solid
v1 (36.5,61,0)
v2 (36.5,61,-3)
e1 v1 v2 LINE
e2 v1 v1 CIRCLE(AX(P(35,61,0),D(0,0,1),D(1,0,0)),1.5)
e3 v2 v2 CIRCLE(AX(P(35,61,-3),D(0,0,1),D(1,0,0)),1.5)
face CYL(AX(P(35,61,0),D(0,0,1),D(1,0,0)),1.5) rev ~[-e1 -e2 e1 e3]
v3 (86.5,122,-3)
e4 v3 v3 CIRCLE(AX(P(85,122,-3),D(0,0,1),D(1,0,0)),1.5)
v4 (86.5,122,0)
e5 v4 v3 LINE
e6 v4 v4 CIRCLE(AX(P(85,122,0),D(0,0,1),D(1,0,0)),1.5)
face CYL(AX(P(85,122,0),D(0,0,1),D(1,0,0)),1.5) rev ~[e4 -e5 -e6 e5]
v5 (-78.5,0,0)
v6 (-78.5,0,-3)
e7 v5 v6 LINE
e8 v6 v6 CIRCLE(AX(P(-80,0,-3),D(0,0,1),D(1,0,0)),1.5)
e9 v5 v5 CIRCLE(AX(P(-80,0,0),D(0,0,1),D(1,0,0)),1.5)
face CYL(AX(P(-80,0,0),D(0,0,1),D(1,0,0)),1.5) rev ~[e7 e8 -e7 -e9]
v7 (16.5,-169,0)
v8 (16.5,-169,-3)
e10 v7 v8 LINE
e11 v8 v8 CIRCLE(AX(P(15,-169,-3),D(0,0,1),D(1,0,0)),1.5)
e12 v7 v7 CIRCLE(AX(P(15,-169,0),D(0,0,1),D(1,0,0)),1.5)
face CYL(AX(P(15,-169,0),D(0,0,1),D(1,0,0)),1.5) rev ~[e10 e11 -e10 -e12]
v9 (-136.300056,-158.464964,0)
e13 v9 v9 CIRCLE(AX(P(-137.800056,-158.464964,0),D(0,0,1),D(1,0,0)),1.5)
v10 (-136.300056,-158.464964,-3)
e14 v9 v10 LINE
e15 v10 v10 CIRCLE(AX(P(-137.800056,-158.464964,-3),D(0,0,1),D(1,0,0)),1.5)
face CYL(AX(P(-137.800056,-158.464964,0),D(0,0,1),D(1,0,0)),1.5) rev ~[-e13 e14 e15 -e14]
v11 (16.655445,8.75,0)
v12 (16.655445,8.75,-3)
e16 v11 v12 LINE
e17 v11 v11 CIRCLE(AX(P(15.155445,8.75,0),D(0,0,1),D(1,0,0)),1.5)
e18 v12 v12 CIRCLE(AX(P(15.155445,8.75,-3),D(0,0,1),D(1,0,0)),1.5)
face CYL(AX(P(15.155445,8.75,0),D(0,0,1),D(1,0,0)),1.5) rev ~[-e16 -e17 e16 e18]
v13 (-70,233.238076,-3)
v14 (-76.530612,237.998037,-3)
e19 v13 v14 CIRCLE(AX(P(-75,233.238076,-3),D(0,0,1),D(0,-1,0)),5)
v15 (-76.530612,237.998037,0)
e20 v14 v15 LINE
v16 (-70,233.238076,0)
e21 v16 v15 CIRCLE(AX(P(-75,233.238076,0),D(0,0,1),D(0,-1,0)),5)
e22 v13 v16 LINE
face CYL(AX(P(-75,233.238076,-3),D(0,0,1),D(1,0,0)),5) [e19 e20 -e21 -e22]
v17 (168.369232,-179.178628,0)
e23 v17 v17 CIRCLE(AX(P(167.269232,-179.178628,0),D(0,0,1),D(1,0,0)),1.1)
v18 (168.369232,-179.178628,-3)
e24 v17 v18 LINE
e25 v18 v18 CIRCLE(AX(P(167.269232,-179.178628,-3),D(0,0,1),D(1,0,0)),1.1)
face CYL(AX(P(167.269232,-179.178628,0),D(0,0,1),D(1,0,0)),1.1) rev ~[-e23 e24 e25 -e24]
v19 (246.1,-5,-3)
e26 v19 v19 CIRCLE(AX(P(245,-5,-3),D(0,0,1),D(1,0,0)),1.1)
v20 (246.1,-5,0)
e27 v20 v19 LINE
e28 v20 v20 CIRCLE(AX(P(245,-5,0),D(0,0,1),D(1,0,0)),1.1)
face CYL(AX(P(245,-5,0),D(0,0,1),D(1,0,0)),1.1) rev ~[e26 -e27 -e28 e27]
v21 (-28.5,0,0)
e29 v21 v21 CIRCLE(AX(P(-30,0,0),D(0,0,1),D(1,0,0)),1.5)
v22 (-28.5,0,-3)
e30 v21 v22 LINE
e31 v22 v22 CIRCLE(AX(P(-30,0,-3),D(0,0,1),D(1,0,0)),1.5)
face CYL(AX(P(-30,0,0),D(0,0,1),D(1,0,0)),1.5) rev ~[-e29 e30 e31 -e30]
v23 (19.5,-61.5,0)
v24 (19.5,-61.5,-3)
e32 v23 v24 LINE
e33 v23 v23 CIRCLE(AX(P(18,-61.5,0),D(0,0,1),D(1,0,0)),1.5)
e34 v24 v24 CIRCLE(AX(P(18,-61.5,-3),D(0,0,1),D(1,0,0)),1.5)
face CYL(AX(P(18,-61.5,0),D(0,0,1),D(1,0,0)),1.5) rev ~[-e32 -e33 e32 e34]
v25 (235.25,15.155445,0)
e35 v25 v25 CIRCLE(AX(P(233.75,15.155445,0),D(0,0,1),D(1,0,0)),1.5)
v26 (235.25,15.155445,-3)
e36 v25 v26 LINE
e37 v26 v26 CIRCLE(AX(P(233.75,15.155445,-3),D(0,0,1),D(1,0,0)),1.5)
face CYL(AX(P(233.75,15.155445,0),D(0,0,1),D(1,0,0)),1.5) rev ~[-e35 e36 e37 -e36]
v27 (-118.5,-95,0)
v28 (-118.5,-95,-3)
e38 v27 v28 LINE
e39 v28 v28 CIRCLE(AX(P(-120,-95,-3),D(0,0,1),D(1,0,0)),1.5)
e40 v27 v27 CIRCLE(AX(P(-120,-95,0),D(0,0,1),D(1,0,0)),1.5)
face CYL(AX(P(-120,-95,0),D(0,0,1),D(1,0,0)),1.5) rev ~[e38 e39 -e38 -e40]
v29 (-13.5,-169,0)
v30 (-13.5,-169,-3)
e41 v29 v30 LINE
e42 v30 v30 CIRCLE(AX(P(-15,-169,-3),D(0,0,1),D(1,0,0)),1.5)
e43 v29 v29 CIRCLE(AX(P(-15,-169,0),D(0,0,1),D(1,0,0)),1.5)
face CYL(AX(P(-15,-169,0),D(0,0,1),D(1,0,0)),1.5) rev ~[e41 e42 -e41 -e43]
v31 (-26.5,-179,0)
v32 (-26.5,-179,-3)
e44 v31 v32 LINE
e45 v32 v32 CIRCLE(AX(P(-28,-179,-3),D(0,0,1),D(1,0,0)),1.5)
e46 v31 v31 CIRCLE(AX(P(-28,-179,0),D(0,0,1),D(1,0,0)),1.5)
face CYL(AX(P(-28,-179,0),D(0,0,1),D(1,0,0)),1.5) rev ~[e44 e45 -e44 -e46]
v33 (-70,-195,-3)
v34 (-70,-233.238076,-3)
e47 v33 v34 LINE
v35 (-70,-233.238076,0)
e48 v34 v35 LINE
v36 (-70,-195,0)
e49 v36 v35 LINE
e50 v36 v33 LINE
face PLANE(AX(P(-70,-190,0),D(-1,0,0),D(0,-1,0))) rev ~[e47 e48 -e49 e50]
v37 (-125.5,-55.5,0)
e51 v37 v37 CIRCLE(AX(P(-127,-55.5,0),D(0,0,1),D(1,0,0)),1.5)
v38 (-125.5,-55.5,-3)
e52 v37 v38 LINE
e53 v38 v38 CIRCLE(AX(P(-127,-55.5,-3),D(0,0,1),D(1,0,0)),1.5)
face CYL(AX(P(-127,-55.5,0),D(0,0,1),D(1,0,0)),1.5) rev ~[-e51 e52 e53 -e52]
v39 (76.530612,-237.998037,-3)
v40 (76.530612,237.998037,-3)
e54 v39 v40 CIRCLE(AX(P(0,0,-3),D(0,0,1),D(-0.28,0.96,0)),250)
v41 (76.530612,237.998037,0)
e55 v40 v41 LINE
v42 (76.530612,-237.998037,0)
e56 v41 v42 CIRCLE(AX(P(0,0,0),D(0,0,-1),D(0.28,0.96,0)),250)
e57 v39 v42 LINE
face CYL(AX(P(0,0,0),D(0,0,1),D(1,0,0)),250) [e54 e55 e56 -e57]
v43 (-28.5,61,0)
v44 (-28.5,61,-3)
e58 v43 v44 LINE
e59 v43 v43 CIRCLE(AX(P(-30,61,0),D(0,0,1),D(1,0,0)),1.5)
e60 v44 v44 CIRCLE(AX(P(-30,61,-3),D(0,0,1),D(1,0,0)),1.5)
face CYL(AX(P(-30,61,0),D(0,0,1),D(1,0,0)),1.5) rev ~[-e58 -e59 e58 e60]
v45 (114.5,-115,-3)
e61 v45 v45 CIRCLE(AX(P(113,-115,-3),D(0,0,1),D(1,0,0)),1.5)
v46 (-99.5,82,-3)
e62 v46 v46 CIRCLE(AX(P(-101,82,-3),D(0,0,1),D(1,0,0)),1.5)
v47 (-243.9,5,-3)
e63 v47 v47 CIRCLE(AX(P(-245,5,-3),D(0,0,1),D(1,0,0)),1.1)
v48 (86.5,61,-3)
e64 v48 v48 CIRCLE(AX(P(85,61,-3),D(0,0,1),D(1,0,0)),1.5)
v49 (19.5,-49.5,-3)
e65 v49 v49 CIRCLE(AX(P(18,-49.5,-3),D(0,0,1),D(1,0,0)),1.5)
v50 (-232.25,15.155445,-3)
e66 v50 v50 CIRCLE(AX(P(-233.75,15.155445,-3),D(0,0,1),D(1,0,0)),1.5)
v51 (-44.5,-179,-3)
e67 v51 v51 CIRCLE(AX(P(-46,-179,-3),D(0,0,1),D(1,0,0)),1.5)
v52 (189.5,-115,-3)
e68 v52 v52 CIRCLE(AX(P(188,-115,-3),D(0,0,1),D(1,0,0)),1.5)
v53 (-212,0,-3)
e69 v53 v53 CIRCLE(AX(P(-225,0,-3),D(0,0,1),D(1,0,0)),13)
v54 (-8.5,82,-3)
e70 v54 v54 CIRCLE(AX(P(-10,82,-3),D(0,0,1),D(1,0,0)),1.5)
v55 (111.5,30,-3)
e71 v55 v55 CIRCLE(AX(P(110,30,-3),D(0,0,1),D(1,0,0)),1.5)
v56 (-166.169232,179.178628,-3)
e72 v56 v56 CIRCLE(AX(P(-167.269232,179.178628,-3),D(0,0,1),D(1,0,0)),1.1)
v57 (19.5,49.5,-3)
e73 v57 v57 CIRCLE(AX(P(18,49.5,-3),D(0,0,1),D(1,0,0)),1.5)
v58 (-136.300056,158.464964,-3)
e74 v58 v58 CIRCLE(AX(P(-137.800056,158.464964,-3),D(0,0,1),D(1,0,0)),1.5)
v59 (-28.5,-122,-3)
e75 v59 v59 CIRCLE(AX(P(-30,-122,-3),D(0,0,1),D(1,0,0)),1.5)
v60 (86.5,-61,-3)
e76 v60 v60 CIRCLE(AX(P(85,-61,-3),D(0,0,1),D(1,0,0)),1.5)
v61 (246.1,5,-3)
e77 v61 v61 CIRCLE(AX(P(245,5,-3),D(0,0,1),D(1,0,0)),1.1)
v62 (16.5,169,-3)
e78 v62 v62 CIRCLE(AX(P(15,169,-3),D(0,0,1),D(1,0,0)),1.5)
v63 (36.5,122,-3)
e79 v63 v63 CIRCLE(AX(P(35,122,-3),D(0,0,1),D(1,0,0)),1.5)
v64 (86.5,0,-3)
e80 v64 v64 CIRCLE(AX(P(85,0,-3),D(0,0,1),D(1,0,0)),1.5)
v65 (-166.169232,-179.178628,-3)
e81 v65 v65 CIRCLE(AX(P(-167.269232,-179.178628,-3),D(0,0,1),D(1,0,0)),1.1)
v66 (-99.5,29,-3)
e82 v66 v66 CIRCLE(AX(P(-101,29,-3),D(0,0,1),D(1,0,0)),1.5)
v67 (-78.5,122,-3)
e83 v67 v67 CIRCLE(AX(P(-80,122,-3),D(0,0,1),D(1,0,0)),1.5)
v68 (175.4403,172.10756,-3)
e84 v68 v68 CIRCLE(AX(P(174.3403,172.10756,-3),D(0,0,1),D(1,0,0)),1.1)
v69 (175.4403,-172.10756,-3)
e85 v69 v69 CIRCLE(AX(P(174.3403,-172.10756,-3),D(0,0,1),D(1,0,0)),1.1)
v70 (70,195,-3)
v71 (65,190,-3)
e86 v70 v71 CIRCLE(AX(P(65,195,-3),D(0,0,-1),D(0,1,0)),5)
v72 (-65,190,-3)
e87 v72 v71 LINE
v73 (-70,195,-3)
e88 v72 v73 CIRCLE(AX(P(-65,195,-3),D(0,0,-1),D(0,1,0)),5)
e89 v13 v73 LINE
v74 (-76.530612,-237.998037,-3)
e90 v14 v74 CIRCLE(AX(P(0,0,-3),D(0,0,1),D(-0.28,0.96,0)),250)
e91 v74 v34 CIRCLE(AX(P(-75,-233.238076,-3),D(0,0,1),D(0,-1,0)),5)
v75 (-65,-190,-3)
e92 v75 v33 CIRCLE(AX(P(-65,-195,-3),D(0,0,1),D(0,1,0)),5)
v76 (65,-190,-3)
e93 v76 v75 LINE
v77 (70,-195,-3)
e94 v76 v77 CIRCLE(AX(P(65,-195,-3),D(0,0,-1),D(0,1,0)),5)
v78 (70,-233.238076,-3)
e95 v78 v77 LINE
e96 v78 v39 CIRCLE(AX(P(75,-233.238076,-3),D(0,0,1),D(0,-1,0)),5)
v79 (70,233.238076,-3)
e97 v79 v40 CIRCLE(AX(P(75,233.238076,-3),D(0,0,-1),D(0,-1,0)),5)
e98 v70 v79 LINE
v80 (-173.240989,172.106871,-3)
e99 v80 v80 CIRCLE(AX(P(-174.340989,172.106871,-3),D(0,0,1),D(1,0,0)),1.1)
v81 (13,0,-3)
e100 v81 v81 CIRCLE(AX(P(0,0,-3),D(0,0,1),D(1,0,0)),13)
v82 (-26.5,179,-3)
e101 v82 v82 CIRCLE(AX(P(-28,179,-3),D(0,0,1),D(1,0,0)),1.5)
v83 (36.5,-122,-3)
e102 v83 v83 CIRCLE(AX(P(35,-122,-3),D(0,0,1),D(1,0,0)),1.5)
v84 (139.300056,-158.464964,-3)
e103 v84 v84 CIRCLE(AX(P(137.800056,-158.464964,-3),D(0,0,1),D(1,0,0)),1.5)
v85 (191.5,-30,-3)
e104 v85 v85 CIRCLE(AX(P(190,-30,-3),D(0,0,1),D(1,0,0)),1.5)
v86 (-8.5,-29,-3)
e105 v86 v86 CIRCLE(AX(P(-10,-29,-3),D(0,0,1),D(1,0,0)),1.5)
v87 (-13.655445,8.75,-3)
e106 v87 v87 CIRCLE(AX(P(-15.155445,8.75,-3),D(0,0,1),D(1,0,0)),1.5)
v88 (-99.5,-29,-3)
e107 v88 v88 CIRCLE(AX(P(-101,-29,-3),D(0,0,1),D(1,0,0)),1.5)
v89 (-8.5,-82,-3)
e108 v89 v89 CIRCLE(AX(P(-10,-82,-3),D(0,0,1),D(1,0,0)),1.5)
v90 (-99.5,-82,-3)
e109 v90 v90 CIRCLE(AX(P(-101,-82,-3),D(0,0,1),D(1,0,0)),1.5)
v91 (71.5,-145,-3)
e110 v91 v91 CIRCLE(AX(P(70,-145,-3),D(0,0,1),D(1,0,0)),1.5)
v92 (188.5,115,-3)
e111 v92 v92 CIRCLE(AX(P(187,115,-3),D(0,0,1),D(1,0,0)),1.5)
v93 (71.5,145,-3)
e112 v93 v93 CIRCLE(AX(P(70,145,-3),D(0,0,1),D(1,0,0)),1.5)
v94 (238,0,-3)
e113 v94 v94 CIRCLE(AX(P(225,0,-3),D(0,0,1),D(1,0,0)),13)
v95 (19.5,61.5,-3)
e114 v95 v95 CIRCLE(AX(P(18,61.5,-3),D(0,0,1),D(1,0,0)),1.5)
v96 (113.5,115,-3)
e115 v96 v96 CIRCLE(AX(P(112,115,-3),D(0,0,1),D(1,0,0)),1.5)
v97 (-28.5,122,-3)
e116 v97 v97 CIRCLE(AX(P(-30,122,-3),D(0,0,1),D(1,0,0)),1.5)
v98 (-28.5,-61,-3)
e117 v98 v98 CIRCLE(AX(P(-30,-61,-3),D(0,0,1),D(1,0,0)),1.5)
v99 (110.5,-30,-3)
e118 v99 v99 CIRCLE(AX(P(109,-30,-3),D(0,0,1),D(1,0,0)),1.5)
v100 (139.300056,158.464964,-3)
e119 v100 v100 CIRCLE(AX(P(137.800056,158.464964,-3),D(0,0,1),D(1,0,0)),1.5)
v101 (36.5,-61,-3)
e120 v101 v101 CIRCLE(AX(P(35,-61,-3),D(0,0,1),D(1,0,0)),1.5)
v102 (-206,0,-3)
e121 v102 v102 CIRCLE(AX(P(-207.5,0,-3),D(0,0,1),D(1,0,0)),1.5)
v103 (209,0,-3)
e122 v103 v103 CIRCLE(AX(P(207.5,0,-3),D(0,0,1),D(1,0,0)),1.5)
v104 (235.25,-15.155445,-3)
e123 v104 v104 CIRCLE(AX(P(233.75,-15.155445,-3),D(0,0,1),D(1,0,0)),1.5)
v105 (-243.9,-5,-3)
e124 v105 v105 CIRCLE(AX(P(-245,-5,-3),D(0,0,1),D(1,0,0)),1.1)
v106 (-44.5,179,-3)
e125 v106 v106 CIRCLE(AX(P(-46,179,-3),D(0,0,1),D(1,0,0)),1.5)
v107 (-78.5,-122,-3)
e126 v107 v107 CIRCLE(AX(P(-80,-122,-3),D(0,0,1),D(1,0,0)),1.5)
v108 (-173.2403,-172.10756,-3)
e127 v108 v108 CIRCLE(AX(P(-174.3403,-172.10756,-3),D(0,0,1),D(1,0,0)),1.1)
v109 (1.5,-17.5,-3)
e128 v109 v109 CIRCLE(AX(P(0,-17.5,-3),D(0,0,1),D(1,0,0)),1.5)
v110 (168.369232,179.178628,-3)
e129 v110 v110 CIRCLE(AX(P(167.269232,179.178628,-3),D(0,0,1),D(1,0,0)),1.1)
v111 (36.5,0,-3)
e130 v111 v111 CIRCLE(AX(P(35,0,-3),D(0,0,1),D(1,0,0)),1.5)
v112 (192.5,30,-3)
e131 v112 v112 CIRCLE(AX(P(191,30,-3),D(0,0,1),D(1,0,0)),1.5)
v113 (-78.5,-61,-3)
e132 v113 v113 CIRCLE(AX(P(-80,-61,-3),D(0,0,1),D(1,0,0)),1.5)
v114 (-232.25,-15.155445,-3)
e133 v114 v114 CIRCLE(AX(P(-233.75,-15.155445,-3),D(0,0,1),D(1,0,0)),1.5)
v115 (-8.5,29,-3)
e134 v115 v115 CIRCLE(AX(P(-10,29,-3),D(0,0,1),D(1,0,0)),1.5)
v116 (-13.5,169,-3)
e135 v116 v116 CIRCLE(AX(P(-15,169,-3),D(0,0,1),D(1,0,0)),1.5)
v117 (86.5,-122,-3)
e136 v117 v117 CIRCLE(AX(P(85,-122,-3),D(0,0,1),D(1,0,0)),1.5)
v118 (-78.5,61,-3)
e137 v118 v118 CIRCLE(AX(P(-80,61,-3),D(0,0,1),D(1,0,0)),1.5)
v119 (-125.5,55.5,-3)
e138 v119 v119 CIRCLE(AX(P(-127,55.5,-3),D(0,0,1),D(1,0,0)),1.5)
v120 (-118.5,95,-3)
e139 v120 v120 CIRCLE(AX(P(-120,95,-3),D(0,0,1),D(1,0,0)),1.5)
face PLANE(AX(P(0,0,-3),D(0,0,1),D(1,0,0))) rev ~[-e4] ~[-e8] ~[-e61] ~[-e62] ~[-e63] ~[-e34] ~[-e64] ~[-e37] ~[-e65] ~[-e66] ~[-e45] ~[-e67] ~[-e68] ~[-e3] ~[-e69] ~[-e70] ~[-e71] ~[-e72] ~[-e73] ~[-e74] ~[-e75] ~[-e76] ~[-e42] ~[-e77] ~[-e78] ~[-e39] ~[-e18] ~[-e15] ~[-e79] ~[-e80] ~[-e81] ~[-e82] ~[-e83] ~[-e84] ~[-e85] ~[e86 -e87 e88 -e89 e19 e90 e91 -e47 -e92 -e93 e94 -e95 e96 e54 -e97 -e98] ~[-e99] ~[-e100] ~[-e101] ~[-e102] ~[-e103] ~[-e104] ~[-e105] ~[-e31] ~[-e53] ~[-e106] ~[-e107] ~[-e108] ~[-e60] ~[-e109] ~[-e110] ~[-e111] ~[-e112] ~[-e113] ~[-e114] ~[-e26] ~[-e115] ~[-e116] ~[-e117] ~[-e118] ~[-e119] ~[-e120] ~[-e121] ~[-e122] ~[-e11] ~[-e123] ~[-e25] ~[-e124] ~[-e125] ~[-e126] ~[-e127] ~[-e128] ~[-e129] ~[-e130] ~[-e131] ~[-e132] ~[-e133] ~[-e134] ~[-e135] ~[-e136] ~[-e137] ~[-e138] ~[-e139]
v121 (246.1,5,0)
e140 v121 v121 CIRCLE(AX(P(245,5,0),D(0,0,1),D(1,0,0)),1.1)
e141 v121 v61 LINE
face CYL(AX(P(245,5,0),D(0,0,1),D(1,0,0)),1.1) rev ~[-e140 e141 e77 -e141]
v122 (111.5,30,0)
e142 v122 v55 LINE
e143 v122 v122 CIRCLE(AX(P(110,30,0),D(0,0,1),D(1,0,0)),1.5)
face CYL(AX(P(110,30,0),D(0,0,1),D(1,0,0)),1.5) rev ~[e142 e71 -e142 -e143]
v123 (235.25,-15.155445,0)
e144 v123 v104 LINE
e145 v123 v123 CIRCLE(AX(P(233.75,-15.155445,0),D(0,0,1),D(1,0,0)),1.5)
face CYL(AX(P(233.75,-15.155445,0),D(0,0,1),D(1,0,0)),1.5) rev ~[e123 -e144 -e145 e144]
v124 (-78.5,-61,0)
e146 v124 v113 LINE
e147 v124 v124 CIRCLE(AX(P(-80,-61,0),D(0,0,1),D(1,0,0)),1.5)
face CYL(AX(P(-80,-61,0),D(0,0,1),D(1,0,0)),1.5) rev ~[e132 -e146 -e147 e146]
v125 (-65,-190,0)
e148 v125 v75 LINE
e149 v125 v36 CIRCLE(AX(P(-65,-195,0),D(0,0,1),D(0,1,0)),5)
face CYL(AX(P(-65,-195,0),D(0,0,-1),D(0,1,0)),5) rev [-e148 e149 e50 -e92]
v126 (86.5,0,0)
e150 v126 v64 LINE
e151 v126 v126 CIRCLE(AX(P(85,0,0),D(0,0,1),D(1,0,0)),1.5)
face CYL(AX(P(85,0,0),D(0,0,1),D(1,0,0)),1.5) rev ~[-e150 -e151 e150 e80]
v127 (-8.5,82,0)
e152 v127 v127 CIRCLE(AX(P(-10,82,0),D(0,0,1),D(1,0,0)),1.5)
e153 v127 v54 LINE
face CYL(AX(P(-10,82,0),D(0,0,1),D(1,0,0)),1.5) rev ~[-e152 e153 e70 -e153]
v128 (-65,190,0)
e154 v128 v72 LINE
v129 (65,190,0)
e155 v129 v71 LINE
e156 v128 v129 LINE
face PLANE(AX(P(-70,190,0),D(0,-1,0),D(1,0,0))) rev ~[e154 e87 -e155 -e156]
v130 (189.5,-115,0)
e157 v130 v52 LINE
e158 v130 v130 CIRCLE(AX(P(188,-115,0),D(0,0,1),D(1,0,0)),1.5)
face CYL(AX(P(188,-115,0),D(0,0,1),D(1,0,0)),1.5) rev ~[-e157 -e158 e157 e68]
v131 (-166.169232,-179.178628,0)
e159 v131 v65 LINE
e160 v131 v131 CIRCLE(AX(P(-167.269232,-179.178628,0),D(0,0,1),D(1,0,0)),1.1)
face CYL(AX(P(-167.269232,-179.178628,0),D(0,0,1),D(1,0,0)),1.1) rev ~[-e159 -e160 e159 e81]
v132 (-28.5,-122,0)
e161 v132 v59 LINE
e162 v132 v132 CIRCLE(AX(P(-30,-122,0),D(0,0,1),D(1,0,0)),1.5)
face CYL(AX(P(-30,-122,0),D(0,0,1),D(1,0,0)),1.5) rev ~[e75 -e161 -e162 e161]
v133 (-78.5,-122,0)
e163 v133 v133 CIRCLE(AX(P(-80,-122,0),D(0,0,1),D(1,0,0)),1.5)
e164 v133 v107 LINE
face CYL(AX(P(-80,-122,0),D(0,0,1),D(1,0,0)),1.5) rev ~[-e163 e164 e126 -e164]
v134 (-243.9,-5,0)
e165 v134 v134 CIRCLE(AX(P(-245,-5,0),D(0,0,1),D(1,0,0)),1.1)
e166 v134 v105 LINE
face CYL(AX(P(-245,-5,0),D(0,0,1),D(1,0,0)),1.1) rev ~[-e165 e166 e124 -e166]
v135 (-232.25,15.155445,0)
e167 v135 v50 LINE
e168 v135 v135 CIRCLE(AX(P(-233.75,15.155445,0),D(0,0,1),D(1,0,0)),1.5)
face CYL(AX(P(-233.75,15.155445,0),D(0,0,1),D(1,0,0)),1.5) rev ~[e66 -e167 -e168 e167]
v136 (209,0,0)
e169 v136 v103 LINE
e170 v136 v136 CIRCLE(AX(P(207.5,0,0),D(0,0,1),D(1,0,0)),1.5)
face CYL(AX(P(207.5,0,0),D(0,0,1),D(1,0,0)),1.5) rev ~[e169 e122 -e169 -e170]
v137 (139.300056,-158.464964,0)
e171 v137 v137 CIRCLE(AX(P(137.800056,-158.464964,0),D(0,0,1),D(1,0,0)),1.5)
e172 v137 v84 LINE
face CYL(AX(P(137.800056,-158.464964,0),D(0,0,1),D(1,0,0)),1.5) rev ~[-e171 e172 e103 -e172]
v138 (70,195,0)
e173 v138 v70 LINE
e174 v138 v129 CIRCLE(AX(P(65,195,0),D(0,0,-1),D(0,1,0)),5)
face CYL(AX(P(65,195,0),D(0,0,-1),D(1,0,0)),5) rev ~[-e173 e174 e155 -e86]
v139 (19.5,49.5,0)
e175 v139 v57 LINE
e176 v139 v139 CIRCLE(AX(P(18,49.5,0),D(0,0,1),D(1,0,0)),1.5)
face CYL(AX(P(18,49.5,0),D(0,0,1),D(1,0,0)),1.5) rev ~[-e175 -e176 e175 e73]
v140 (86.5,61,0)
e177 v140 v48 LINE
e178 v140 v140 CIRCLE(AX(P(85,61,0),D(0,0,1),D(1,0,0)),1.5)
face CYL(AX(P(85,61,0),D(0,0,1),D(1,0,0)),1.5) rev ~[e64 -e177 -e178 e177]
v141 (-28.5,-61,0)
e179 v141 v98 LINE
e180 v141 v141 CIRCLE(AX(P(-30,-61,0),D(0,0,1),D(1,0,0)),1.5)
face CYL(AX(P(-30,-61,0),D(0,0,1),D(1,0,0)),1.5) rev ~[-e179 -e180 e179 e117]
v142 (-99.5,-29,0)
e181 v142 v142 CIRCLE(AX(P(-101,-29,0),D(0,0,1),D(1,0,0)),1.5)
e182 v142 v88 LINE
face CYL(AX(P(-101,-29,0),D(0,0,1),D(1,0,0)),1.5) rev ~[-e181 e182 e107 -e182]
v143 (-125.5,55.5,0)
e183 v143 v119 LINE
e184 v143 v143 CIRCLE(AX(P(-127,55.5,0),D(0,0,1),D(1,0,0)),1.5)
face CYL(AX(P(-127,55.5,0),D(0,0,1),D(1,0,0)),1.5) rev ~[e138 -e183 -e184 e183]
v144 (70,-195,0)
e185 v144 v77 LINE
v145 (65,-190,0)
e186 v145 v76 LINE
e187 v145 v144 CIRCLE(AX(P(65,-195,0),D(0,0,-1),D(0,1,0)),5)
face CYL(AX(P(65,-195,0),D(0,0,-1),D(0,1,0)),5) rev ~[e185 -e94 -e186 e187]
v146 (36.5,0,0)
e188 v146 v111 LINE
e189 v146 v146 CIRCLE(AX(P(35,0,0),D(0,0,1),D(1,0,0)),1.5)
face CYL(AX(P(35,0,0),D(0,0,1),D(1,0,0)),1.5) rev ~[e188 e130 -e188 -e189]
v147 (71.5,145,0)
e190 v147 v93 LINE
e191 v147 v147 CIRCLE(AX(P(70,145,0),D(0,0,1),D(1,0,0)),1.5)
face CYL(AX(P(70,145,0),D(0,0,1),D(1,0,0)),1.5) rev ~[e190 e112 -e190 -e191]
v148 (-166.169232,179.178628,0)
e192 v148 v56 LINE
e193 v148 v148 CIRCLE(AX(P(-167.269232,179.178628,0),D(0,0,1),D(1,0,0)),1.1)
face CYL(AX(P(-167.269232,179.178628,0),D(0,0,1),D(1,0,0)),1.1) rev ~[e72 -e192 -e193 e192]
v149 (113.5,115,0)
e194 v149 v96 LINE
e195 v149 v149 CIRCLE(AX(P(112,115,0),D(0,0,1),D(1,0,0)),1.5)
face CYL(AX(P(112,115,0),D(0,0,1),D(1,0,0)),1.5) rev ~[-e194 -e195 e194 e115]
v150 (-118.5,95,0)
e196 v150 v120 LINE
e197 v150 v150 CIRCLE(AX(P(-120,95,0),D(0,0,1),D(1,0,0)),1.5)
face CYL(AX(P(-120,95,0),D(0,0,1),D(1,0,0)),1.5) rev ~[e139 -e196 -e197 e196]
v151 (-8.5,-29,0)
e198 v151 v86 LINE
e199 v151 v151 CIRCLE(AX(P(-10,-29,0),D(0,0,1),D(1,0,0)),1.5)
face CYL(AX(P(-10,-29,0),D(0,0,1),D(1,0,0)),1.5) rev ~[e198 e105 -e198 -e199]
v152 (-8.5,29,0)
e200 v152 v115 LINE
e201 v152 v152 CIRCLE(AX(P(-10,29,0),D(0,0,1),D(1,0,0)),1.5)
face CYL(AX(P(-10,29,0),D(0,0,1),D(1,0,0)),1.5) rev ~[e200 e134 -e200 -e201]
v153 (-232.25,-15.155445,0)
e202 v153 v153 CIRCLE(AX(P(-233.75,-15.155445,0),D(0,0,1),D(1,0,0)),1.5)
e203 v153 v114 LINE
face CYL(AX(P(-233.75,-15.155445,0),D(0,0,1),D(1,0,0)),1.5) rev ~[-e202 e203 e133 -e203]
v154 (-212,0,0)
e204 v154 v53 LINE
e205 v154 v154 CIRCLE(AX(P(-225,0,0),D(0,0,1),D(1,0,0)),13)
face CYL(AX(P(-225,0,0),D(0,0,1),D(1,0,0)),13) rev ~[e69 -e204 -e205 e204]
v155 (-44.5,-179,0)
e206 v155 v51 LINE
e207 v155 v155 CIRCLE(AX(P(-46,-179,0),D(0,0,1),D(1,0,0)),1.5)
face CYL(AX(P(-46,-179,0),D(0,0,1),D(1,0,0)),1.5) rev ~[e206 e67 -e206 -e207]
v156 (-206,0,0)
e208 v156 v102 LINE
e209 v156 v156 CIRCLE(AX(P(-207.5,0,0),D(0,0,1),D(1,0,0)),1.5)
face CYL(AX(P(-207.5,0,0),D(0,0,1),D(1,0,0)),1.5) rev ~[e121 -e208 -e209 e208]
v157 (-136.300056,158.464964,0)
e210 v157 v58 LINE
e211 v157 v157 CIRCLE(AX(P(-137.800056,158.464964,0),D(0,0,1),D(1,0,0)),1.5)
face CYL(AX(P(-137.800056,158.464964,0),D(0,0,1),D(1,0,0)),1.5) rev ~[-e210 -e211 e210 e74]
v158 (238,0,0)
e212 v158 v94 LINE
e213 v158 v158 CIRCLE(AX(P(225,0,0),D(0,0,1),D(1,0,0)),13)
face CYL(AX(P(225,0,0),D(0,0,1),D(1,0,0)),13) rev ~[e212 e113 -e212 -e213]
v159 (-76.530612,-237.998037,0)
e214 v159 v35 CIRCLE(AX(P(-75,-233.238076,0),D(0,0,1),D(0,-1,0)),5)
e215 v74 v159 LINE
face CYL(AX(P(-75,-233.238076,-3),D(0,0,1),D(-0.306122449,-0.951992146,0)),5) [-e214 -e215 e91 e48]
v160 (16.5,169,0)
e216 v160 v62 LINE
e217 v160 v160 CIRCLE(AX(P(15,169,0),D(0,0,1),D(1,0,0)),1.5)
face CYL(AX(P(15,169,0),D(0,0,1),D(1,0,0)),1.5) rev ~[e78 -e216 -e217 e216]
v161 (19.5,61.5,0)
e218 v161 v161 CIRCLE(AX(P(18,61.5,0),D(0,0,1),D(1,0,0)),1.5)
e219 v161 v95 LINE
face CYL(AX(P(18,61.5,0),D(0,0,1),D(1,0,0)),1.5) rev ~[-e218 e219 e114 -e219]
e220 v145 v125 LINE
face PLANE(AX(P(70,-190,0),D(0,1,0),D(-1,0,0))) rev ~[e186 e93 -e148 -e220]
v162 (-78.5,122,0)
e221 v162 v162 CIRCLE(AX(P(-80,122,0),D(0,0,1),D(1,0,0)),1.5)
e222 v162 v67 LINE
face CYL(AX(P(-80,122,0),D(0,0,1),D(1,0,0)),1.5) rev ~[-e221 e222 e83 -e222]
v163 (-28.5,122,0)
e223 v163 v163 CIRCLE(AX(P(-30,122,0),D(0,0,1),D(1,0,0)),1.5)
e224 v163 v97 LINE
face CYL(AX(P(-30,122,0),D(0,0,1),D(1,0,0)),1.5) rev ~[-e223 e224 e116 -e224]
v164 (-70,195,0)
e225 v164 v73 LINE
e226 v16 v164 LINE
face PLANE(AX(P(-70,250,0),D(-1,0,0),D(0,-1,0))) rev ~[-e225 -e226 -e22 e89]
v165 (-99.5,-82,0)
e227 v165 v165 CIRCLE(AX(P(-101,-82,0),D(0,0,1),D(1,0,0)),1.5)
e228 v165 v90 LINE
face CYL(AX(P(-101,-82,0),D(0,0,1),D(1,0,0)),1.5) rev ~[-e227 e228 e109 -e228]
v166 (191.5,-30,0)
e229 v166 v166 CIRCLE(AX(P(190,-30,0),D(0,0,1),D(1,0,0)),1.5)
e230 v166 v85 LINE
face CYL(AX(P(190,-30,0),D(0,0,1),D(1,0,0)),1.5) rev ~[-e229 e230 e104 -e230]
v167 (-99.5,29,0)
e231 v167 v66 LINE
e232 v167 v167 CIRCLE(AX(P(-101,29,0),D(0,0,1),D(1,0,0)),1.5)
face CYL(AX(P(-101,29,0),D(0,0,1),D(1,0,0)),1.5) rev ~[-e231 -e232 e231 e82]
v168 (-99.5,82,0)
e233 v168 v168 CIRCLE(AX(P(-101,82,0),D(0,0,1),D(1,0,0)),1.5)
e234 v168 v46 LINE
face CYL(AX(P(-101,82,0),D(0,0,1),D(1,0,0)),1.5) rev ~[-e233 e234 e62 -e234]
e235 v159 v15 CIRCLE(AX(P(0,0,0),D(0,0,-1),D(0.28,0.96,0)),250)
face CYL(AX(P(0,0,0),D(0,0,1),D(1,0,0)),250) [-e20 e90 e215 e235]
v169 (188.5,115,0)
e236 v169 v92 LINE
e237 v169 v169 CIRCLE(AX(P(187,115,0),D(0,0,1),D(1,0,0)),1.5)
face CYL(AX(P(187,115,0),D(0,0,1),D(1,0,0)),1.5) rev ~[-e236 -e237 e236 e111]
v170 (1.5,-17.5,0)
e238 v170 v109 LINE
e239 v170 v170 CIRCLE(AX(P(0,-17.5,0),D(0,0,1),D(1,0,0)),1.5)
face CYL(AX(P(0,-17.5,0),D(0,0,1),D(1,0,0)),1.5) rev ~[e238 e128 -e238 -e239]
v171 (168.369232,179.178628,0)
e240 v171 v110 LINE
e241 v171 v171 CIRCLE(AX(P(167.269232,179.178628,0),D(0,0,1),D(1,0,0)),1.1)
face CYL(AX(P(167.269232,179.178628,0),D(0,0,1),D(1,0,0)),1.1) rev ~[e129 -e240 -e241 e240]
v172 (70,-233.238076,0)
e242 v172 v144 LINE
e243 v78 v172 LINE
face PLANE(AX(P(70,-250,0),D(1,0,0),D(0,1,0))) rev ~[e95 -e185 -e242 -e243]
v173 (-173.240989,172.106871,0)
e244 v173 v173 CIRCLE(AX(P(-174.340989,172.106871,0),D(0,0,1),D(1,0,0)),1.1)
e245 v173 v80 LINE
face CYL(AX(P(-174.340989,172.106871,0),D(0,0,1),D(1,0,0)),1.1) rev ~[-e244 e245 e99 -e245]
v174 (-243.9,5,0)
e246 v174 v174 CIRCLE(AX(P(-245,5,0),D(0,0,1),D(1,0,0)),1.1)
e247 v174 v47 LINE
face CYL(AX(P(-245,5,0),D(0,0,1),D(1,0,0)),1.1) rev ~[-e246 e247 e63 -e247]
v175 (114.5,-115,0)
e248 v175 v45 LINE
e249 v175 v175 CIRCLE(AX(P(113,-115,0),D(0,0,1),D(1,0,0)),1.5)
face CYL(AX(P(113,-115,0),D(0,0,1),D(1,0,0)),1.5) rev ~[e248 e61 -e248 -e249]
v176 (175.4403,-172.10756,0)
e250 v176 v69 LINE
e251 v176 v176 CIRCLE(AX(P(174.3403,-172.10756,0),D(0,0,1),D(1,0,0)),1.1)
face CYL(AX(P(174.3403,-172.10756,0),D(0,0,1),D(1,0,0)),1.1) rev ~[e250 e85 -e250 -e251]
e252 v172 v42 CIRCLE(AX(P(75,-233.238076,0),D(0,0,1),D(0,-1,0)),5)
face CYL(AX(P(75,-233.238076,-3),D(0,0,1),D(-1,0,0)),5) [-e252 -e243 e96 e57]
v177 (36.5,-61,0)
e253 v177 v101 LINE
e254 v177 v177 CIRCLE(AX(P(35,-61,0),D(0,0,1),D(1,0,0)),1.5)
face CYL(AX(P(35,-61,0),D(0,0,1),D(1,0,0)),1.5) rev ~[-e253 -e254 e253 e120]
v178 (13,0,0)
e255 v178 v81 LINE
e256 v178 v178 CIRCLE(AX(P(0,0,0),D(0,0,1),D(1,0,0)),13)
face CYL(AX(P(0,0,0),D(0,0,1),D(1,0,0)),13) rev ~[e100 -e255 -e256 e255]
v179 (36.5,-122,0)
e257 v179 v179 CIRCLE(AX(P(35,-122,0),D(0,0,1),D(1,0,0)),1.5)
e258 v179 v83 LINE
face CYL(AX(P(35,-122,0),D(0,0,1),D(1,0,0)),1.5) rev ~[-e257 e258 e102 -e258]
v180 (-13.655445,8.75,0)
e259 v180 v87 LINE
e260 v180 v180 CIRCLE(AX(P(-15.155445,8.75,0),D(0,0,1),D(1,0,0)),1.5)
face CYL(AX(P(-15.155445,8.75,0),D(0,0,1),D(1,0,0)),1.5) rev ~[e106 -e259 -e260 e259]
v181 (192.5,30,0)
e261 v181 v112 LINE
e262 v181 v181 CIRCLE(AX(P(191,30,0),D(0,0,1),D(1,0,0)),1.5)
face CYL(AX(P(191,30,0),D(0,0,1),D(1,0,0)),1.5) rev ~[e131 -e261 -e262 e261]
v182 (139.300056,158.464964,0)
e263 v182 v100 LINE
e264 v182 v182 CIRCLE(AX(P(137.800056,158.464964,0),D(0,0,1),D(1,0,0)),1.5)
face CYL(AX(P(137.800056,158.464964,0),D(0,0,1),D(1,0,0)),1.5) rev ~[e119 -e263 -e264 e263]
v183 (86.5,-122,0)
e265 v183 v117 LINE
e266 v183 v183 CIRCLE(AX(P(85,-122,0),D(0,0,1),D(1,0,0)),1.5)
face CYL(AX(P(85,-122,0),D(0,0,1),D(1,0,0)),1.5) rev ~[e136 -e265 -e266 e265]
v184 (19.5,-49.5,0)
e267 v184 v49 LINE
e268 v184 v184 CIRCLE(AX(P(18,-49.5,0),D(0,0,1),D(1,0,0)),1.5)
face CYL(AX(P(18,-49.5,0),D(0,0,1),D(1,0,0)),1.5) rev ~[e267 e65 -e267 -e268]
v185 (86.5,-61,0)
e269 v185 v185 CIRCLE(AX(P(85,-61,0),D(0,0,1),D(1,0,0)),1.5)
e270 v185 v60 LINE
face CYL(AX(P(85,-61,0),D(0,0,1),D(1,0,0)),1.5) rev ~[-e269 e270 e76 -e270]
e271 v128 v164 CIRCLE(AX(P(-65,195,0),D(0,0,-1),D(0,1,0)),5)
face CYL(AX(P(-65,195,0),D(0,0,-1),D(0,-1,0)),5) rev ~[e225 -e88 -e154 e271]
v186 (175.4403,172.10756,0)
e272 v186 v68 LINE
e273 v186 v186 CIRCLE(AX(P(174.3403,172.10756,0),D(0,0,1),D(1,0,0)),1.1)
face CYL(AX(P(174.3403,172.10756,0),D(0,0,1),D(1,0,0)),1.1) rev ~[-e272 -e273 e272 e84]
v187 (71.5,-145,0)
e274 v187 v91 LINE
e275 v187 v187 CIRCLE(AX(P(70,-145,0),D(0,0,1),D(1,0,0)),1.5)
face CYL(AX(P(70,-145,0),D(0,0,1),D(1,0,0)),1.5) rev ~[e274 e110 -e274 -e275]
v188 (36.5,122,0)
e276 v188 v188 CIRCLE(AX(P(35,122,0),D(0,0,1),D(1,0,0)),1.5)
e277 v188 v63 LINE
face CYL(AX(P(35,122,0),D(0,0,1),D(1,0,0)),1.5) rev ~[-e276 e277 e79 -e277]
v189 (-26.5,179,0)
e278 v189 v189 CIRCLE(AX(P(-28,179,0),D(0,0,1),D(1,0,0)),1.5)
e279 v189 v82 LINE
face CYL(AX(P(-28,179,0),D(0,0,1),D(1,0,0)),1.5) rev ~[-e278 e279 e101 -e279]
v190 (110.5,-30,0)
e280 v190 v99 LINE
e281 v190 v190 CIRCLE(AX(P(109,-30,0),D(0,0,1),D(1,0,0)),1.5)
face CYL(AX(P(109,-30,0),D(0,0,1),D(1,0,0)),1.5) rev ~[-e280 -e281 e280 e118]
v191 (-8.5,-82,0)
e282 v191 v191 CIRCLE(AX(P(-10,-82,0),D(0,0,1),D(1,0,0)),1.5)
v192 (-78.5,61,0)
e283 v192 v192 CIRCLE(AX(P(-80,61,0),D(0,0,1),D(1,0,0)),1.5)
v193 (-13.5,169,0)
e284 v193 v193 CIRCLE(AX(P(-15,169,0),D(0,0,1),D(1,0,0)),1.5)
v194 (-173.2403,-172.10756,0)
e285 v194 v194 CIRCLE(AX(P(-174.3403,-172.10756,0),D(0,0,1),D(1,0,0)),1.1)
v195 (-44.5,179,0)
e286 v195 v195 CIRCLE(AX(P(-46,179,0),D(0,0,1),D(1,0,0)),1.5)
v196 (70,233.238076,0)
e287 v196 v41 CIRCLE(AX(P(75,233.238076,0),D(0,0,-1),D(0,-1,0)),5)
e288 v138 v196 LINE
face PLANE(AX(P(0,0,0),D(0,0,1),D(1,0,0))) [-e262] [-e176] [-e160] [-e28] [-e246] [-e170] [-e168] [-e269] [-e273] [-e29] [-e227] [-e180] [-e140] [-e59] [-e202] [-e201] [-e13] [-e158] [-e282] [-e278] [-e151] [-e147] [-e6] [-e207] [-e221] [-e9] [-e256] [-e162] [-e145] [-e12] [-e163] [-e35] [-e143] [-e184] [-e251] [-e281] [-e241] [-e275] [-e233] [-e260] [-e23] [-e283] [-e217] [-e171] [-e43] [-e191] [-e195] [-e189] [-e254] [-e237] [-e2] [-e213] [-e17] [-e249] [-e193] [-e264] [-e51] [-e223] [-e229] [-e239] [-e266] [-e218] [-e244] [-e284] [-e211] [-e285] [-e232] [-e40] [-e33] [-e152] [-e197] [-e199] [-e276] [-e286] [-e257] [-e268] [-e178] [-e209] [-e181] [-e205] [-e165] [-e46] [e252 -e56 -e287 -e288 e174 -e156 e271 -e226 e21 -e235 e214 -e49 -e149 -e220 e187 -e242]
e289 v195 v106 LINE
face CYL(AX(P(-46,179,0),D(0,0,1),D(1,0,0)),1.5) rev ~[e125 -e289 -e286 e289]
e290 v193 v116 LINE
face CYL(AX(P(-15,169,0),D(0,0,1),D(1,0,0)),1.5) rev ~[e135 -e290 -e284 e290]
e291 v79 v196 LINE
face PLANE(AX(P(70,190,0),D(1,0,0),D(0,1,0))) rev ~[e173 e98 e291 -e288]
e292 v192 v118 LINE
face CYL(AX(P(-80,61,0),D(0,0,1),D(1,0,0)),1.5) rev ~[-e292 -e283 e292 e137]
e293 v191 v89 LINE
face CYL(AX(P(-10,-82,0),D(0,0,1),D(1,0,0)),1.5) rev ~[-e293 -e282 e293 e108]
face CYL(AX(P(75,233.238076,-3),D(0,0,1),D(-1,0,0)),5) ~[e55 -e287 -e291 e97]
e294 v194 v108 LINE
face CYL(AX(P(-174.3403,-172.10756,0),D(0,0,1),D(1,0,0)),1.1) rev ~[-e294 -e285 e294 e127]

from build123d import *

# Parameters (mm, degrees)
SKETCH_1_R           = 250
EXTRUDE_1_DEPTH      = 3
CUT_EXTRUDE_1_DEPTH  = 4
CUT_EXTRUDE_2_DEPTH  = 4
FILLET_1_R           = 5
FILLET_2_R           = 5
FILLET_3_R           = 5
FILLET_4_R           = 5
FILLET_5_R           = 5
FILLET_6_R           = 5
FILLET_7_R           = 5
FILLET_8_R           = 5
SKETCH_4_R           = 1.5
CUT_EXTRUDE_3_DEPTH  = 4
SKETCH_15_R          = 1.5
CUT_EXTRUDE_5_DEPTH  = 4
SKETCH_17_R          = 1.5
CUT_EXTRUDE_7_DEPTH  = 4
SKETCH_18_R          = 13
SKETCH_18_R_2        = 1.5
CUT_EXTRUDE_8_DEPTH  = 4
SKETCH_19_R          = 1.5
CUT_EXTRUDE_9_DEPTH  = 4
SKETCH_21_R          = 1.5
CUT_EXTRUDE_11_DEPTH = 4
SKETCH_22_R          = 1.5
CUT_EXTRUDE_12_DEPTH = 4
SKETCH_23_R          = 1.1
CUT_EXTRUDE_13_DEPTH = 4


with BuildPart() as part:
    # ｽｹｯﾁ1 → ﾎﾞｽ - 押し出し1 (new body)
    with BuildSketch(Plane.XY):
        Circle(SKETCH_1_R)
    extrude(amount=-EXTRUDE_1_DEPTH)

    # ｽｹｯﾁ2 → ｶｯﾄ - 押し出し1 (cut, through all)
    with BuildSketch(Plane.XY):
        Polygon((0, 190), (70, 190), (70, 250), (0, 250), (-70, 250), (-70, 190), align=None)
    extrude(amount=-CUT_EXTRUDE_1_DEPTH, mode=Mode.SUBTRACT)

    # ｽｹｯﾁ3 → ｶｯﾄ - 押し出し2 (cut, through all)
    with BuildSketch(Plane.XY):
        Polygon((0, -250), (70, -250), (70, -190), (0, -190), (-70, -190), (-70, -250), align=None)
    extrude(amount=-CUT_EXTRUDE_2_DEPTH, mode=Mode.SUBTRACT)

    # ﾌｨﾚｯﾄ1
    fillet_1_edges = [part.edges().sort_by_distance(p)[0] for p in [
        (-70, 240, -1.5),
    ]]
    fillet(fillet_1_edges, radius=FILLET_1_R)

    # ﾌｨﾚｯﾄ2
    fillet_2_edges = [part.edges().sort_by_distance(p)[0] for p in [
        (70, 240, -1.5),
    ]]
    fillet(fillet_2_edges, radius=FILLET_2_R)

    # ﾌｨﾚｯﾄ3
    fillet_3_edges = [part.edges().sort_by_distance(p)[0] for p in [
        (70, 190, -1.5),
    ]]
    fillet(fillet_3_edges, radius=FILLET_3_R)

    # ﾌｨﾚｯﾄ4
    fillet_4_edges = [part.edges().sort_by_distance(p)[0] for p in [
        (-70, 190, -1.5),
    ]]
    fillet(fillet_4_edges, radius=FILLET_4_R)

    # ﾌｨﾚｯﾄ5
    fillet_5_edges = [part.edges().sort_by_distance(p)[0] for p in [
        (-70, -240, -1.5),
    ]]
    fillet(fillet_5_edges, radius=FILLET_5_R)

    # ﾌｨﾚｯﾄ6
    fillet_6_edges = [part.edges().sort_by_distance(p)[0] for p in [
        (70, -190, -1.5),
    ]]
    fillet(fillet_6_edges, radius=FILLET_6_R)

    # ﾌｨﾚｯﾄ7
    fillet_7_edges = [part.edges().sort_by_distance(p)[0] for p in [
        (70, -240, -1.5),
    ]]
    fillet(fillet_7_edges, radius=FILLET_7_R)

    # ﾌｨﾚｯﾄ8
    fillet_8_edges = [part.edges().sort_by_distance(p)[0] for p in [
        (-70, -190, -1.5),
    ]]
    fillet(fillet_8_edges, radius=FILLET_8_R)

    # ｽｹｯﾁ4 → ｶｯﾄ - 押し出し3 (cut, through all)
    with BuildSketch(Plane.XY):
        with Locations((15, 169)):
            Circle(SKETCH_4_R)
        with Locations((-15, 169)):
            Circle(SKETCH_4_R)
        with Locations((15, -169)):
            Circle(SKETCH_4_R)
        with Locations((-15, -169)):
            Circle(SKETCH_4_R)
        with Locations((-46, 179)):
            Circle(SKETCH_4_R)
        with Locations((-28, 179)):
            Circle(SKETCH_4_R)
        with Locations((-46, -179)):
            Circle(SKETCH_4_R)
        with Locations((-28, -179)):
            Circle(SKETCH_4_R)
    extrude(amount=-CUT_EXTRUDE_3_DEPTH, mode=Mode.SUBTRACT)

    # ｽｹｯﾁ15 → ｶｯﾄ - 押し出し5 (cut, through all)
    with BuildSketch(Plane.XY):
        with Locations((137.80005554, 158.464963614)):
            Circle(SKETCH_15_R)
        with Locations((137.80005554, -158.464963614)):
            Circle(SKETCH_15_R)
        with Locations((-137.80005554, -158.464963614)):
            Circle(SKETCH_15_R)
        with Locations((-137.80005554, 158.464963614)):
            Circle(SKETCH_15_R)
    extrude(amount=-CUT_EXTRUDE_5_DEPTH, mode=Mode.SUBTRACT)

    # ｽｹｯﾁ17 → ｶｯﾄ - 押し出し7 (cut, through all)
    with BuildSketch(Plane.XY):
        with Locations((-30, 122)):
            Circle(SKETCH_17_R)
        with Locations((35, 122)):
            Circle(SKETCH_17_R)
        with Locations((35, -122)):
            Circle(SKETCH_17_R)
        with Locations((-30, -122)):
            Circle(SKETCH_17_R)
        with Locations((35, 61)):
            Circle(SKETCH_17_R)
        with Locations((35, -61)):
            Circle(SKETCH_17_R)
        with Locations((-80, 122)):
            Circle(SKETCH_17_R)
        with Locations((-80, -122)):
            Circle(SKETCH_17_R)
        with Locations((85, -122)):
            Circle(SKETCH_17_R)
        with Locations((85, 122)):
            Circle(SKETCH_17_R)
        with Locations((-30, -61)):
            Circle(SKETCH_17_R)
        with Locations((-30, 61)):
            Circle(SKETCH_17_R)
        with Locations((-80, 61)):
            Circle(SKETCH_17_R)
        with Locations((-80, -61)):
            Circle(SKETCH_17_R)
        with Locations((85, -61)):
            Circle(SKETCH_17_R)
        with Locations((85, 61)):
            Circle(SKETCH_17_R)
        with Locations((-80, 0)):
            Circle(SKETCH_17_R)
        with Locations((-30, 0)):
            Circle(SKETCH_17_R)
        with Locations((35, 0)):
            Circle(SKETCH_17_R)
        with Locations((85, 0)):
            Circle(SKETCH_17_R)
    extrude(amount=-CUT_EXTRUDE_7_DEPTH, mode=Mode.SUBTRACT)

    # ｽｹｯﾁ18 → ｶｯﾄ - 押し出し8 (cut, through all)
    with BuildSketch(Plane.XY):
        Circle(SKETCH_18_R)
        with Locations((225, 0)):
            Circle(SKETCH_18_R)
        with Locations((-225, 0)):
            Circle(SKETCH_18_R)
        with Locations((-15.155444566, 8.75)):
            Circle(SKETCH_18_R_2)
        with Locations((15.155444566, 8.75)):
            Circle(SKETCH_18_R_2)
        with Locations((0, -17.5)):
            Circle(SKETCH_18_R_2)
        with Locations((-233.75, 15.155444566)):
            Circle(SKETCH_18_R_2)
        with Locations((-233.75, -15.155444566)):
            Circle(SKETCH_18_R_2)
        with Locations((-207.5, 0)):
            Circle(SKETCH_18_R_2)
        with Locations((233.75, 15.155444566)):
            Circle(SKETCH_18_R_2)
        with Locations((233.75, -15.155444566)):
            Circle(SKETCH_18_R_2)
        with Locations((207.5, 0)):
            Circle(SKETCH_18_R_2)
    extrude(amount=-CUT_EXTRUDE_8_DEPTH, mode=Mode.SUBTRACT)

    # ｽｹｯﾁ19 → ｶｯﾄ - 押し出し9 (cut, through all)
    with BuildSketch(Plane.XY):
        with Locations((187, 115)):
            Circle(SKETCH_19_R)
        with Locations((112, 115)):
            Circle(SKETCH_19_R)
        with Locations((110, 30)):
            Circle(SKETCH_19_R)
        with Locations((191, 30)):
            Circle(SKETCH_19_R)
        with Locations((190, -30)):
            Circle(SKETCH_19_R)
        with Locations((109, -30)):
            Circle(SKETCH_19_R)
        with Locations((113, -115)):
            Circle(SKETCH_19_R)
        with Locations((188, -115)):
            Circle(SKETCH_19_R)
    extrude(amount=-CUT_EXTRUDE_9_DEPTH, mode=Mode.SUBTRACT)

    # ｽｹｯﾁ21 → ｶｯﾄ - 押し出し11 (cut, through all)
    with BuildSketch(Plane.XY):
        with Locations((-120, 95)):
            Circle(SKETCH_21_R)
        with Locations((-120, -95)):
            Circle(SKETCH_21_R)
        with Locations((70, 145)):
            Circle(SKETCH_21_R)
        with Locations((70, -145)):
            Circle(SKETCH_21_R)
    extrude(amount=-CUT_EXTRUDE_11_DEPTH, mode=Mode.SUBTRACT)

    # ｽｹｯﾁ22 → ｶｯﾄ - 押し出し12 (cut, through all)
    with BuildSketch(Plane.XY):
        with Locations((18, 61.5)):
            Circle(SKETCH_22_R)
        with Locations((18, 49.5)):
            Circle(SKETCH_22_R)
        with Locations((-10, 82)):
            Circle(SKETCH_22_R)
        with Locations((-10, 29)):
            Circle(SKETCH_22_R)
        with Locations((-101, 29)):
            Circle(SKETCH_22_R)
        with Locations((-101, 82)):
            Circle(SKETCH_22_R)
        with Locations((-127, 55.5)):
            Circle(SKETCH_22_R)
        with Locations((18, -49.5)):
            Circle(SKETCH_22_R)
        with Locations((18, -61.5)):
            Circle(SKETCH_22_R)
        with Locations((-10, -82)):
            Circle(SKETCH_22_R)
        with Locations((-101, -82)):
            Circle(SKETCH_22_R)
        with Locations((-101, -29)):
            Circle(SKETCH_22_R)
        with Locations((-10, -29)):
            Circle(SKETCH_22_R)
        with Locations((-127, -55.5)):
            Circle(SKETCH_22_R)
    extrude(amount=-CUT_EXTRUDE_12_DEPTH, mode=Mode.SUBTRACT)

    # ｽｹｯﾁ23 → ｶｯﾄ - 押し出し13 (cut, through all)
    with BuildSketch(Plane.XY):
        with Locations((167.269231813, 179.178628002)):
            Circle(SKETCH_23_R)
        with Locations((174.340299625, 172.10756019)):
            Circle(SKETCH_23_R)
        with Locations((245, -5)):
            Circle(SKETCH_23_R)
        with Locations((245, 5)):
            Circle(SKETCH_23_R)
        with Locations((174.340299625, -172.10756019)):
            Circle(SKETCH_23_R)
        with Locations((167.269231813, -179.178628002)):
            Circle(SKETCH_23_R)
        with Locations((-167.269231813, -179.178628002)):
            Circle(SKETCH_23_R)
        with Locations((-174.340299625, -172.10756019)):
            Circle(SKETCH_23_R)
        with Locations((-245, -5)):
            Circle(SKETCH_23_R)
        with Locations((-245, 5)):
            Circle(SKETCH_23_R)
        with Locations((-174.340988951, 172.106870863)):
            Circle(SKETCH_23_R)
        with Locations((-167.269231813, 179.178628002)):
            Circle(SKETCH_23_R)
    extrude(amount=-CUT_EXTRUDE_13_DEPTH, mode=Mode.SUBTRACT)


solid = part.part
